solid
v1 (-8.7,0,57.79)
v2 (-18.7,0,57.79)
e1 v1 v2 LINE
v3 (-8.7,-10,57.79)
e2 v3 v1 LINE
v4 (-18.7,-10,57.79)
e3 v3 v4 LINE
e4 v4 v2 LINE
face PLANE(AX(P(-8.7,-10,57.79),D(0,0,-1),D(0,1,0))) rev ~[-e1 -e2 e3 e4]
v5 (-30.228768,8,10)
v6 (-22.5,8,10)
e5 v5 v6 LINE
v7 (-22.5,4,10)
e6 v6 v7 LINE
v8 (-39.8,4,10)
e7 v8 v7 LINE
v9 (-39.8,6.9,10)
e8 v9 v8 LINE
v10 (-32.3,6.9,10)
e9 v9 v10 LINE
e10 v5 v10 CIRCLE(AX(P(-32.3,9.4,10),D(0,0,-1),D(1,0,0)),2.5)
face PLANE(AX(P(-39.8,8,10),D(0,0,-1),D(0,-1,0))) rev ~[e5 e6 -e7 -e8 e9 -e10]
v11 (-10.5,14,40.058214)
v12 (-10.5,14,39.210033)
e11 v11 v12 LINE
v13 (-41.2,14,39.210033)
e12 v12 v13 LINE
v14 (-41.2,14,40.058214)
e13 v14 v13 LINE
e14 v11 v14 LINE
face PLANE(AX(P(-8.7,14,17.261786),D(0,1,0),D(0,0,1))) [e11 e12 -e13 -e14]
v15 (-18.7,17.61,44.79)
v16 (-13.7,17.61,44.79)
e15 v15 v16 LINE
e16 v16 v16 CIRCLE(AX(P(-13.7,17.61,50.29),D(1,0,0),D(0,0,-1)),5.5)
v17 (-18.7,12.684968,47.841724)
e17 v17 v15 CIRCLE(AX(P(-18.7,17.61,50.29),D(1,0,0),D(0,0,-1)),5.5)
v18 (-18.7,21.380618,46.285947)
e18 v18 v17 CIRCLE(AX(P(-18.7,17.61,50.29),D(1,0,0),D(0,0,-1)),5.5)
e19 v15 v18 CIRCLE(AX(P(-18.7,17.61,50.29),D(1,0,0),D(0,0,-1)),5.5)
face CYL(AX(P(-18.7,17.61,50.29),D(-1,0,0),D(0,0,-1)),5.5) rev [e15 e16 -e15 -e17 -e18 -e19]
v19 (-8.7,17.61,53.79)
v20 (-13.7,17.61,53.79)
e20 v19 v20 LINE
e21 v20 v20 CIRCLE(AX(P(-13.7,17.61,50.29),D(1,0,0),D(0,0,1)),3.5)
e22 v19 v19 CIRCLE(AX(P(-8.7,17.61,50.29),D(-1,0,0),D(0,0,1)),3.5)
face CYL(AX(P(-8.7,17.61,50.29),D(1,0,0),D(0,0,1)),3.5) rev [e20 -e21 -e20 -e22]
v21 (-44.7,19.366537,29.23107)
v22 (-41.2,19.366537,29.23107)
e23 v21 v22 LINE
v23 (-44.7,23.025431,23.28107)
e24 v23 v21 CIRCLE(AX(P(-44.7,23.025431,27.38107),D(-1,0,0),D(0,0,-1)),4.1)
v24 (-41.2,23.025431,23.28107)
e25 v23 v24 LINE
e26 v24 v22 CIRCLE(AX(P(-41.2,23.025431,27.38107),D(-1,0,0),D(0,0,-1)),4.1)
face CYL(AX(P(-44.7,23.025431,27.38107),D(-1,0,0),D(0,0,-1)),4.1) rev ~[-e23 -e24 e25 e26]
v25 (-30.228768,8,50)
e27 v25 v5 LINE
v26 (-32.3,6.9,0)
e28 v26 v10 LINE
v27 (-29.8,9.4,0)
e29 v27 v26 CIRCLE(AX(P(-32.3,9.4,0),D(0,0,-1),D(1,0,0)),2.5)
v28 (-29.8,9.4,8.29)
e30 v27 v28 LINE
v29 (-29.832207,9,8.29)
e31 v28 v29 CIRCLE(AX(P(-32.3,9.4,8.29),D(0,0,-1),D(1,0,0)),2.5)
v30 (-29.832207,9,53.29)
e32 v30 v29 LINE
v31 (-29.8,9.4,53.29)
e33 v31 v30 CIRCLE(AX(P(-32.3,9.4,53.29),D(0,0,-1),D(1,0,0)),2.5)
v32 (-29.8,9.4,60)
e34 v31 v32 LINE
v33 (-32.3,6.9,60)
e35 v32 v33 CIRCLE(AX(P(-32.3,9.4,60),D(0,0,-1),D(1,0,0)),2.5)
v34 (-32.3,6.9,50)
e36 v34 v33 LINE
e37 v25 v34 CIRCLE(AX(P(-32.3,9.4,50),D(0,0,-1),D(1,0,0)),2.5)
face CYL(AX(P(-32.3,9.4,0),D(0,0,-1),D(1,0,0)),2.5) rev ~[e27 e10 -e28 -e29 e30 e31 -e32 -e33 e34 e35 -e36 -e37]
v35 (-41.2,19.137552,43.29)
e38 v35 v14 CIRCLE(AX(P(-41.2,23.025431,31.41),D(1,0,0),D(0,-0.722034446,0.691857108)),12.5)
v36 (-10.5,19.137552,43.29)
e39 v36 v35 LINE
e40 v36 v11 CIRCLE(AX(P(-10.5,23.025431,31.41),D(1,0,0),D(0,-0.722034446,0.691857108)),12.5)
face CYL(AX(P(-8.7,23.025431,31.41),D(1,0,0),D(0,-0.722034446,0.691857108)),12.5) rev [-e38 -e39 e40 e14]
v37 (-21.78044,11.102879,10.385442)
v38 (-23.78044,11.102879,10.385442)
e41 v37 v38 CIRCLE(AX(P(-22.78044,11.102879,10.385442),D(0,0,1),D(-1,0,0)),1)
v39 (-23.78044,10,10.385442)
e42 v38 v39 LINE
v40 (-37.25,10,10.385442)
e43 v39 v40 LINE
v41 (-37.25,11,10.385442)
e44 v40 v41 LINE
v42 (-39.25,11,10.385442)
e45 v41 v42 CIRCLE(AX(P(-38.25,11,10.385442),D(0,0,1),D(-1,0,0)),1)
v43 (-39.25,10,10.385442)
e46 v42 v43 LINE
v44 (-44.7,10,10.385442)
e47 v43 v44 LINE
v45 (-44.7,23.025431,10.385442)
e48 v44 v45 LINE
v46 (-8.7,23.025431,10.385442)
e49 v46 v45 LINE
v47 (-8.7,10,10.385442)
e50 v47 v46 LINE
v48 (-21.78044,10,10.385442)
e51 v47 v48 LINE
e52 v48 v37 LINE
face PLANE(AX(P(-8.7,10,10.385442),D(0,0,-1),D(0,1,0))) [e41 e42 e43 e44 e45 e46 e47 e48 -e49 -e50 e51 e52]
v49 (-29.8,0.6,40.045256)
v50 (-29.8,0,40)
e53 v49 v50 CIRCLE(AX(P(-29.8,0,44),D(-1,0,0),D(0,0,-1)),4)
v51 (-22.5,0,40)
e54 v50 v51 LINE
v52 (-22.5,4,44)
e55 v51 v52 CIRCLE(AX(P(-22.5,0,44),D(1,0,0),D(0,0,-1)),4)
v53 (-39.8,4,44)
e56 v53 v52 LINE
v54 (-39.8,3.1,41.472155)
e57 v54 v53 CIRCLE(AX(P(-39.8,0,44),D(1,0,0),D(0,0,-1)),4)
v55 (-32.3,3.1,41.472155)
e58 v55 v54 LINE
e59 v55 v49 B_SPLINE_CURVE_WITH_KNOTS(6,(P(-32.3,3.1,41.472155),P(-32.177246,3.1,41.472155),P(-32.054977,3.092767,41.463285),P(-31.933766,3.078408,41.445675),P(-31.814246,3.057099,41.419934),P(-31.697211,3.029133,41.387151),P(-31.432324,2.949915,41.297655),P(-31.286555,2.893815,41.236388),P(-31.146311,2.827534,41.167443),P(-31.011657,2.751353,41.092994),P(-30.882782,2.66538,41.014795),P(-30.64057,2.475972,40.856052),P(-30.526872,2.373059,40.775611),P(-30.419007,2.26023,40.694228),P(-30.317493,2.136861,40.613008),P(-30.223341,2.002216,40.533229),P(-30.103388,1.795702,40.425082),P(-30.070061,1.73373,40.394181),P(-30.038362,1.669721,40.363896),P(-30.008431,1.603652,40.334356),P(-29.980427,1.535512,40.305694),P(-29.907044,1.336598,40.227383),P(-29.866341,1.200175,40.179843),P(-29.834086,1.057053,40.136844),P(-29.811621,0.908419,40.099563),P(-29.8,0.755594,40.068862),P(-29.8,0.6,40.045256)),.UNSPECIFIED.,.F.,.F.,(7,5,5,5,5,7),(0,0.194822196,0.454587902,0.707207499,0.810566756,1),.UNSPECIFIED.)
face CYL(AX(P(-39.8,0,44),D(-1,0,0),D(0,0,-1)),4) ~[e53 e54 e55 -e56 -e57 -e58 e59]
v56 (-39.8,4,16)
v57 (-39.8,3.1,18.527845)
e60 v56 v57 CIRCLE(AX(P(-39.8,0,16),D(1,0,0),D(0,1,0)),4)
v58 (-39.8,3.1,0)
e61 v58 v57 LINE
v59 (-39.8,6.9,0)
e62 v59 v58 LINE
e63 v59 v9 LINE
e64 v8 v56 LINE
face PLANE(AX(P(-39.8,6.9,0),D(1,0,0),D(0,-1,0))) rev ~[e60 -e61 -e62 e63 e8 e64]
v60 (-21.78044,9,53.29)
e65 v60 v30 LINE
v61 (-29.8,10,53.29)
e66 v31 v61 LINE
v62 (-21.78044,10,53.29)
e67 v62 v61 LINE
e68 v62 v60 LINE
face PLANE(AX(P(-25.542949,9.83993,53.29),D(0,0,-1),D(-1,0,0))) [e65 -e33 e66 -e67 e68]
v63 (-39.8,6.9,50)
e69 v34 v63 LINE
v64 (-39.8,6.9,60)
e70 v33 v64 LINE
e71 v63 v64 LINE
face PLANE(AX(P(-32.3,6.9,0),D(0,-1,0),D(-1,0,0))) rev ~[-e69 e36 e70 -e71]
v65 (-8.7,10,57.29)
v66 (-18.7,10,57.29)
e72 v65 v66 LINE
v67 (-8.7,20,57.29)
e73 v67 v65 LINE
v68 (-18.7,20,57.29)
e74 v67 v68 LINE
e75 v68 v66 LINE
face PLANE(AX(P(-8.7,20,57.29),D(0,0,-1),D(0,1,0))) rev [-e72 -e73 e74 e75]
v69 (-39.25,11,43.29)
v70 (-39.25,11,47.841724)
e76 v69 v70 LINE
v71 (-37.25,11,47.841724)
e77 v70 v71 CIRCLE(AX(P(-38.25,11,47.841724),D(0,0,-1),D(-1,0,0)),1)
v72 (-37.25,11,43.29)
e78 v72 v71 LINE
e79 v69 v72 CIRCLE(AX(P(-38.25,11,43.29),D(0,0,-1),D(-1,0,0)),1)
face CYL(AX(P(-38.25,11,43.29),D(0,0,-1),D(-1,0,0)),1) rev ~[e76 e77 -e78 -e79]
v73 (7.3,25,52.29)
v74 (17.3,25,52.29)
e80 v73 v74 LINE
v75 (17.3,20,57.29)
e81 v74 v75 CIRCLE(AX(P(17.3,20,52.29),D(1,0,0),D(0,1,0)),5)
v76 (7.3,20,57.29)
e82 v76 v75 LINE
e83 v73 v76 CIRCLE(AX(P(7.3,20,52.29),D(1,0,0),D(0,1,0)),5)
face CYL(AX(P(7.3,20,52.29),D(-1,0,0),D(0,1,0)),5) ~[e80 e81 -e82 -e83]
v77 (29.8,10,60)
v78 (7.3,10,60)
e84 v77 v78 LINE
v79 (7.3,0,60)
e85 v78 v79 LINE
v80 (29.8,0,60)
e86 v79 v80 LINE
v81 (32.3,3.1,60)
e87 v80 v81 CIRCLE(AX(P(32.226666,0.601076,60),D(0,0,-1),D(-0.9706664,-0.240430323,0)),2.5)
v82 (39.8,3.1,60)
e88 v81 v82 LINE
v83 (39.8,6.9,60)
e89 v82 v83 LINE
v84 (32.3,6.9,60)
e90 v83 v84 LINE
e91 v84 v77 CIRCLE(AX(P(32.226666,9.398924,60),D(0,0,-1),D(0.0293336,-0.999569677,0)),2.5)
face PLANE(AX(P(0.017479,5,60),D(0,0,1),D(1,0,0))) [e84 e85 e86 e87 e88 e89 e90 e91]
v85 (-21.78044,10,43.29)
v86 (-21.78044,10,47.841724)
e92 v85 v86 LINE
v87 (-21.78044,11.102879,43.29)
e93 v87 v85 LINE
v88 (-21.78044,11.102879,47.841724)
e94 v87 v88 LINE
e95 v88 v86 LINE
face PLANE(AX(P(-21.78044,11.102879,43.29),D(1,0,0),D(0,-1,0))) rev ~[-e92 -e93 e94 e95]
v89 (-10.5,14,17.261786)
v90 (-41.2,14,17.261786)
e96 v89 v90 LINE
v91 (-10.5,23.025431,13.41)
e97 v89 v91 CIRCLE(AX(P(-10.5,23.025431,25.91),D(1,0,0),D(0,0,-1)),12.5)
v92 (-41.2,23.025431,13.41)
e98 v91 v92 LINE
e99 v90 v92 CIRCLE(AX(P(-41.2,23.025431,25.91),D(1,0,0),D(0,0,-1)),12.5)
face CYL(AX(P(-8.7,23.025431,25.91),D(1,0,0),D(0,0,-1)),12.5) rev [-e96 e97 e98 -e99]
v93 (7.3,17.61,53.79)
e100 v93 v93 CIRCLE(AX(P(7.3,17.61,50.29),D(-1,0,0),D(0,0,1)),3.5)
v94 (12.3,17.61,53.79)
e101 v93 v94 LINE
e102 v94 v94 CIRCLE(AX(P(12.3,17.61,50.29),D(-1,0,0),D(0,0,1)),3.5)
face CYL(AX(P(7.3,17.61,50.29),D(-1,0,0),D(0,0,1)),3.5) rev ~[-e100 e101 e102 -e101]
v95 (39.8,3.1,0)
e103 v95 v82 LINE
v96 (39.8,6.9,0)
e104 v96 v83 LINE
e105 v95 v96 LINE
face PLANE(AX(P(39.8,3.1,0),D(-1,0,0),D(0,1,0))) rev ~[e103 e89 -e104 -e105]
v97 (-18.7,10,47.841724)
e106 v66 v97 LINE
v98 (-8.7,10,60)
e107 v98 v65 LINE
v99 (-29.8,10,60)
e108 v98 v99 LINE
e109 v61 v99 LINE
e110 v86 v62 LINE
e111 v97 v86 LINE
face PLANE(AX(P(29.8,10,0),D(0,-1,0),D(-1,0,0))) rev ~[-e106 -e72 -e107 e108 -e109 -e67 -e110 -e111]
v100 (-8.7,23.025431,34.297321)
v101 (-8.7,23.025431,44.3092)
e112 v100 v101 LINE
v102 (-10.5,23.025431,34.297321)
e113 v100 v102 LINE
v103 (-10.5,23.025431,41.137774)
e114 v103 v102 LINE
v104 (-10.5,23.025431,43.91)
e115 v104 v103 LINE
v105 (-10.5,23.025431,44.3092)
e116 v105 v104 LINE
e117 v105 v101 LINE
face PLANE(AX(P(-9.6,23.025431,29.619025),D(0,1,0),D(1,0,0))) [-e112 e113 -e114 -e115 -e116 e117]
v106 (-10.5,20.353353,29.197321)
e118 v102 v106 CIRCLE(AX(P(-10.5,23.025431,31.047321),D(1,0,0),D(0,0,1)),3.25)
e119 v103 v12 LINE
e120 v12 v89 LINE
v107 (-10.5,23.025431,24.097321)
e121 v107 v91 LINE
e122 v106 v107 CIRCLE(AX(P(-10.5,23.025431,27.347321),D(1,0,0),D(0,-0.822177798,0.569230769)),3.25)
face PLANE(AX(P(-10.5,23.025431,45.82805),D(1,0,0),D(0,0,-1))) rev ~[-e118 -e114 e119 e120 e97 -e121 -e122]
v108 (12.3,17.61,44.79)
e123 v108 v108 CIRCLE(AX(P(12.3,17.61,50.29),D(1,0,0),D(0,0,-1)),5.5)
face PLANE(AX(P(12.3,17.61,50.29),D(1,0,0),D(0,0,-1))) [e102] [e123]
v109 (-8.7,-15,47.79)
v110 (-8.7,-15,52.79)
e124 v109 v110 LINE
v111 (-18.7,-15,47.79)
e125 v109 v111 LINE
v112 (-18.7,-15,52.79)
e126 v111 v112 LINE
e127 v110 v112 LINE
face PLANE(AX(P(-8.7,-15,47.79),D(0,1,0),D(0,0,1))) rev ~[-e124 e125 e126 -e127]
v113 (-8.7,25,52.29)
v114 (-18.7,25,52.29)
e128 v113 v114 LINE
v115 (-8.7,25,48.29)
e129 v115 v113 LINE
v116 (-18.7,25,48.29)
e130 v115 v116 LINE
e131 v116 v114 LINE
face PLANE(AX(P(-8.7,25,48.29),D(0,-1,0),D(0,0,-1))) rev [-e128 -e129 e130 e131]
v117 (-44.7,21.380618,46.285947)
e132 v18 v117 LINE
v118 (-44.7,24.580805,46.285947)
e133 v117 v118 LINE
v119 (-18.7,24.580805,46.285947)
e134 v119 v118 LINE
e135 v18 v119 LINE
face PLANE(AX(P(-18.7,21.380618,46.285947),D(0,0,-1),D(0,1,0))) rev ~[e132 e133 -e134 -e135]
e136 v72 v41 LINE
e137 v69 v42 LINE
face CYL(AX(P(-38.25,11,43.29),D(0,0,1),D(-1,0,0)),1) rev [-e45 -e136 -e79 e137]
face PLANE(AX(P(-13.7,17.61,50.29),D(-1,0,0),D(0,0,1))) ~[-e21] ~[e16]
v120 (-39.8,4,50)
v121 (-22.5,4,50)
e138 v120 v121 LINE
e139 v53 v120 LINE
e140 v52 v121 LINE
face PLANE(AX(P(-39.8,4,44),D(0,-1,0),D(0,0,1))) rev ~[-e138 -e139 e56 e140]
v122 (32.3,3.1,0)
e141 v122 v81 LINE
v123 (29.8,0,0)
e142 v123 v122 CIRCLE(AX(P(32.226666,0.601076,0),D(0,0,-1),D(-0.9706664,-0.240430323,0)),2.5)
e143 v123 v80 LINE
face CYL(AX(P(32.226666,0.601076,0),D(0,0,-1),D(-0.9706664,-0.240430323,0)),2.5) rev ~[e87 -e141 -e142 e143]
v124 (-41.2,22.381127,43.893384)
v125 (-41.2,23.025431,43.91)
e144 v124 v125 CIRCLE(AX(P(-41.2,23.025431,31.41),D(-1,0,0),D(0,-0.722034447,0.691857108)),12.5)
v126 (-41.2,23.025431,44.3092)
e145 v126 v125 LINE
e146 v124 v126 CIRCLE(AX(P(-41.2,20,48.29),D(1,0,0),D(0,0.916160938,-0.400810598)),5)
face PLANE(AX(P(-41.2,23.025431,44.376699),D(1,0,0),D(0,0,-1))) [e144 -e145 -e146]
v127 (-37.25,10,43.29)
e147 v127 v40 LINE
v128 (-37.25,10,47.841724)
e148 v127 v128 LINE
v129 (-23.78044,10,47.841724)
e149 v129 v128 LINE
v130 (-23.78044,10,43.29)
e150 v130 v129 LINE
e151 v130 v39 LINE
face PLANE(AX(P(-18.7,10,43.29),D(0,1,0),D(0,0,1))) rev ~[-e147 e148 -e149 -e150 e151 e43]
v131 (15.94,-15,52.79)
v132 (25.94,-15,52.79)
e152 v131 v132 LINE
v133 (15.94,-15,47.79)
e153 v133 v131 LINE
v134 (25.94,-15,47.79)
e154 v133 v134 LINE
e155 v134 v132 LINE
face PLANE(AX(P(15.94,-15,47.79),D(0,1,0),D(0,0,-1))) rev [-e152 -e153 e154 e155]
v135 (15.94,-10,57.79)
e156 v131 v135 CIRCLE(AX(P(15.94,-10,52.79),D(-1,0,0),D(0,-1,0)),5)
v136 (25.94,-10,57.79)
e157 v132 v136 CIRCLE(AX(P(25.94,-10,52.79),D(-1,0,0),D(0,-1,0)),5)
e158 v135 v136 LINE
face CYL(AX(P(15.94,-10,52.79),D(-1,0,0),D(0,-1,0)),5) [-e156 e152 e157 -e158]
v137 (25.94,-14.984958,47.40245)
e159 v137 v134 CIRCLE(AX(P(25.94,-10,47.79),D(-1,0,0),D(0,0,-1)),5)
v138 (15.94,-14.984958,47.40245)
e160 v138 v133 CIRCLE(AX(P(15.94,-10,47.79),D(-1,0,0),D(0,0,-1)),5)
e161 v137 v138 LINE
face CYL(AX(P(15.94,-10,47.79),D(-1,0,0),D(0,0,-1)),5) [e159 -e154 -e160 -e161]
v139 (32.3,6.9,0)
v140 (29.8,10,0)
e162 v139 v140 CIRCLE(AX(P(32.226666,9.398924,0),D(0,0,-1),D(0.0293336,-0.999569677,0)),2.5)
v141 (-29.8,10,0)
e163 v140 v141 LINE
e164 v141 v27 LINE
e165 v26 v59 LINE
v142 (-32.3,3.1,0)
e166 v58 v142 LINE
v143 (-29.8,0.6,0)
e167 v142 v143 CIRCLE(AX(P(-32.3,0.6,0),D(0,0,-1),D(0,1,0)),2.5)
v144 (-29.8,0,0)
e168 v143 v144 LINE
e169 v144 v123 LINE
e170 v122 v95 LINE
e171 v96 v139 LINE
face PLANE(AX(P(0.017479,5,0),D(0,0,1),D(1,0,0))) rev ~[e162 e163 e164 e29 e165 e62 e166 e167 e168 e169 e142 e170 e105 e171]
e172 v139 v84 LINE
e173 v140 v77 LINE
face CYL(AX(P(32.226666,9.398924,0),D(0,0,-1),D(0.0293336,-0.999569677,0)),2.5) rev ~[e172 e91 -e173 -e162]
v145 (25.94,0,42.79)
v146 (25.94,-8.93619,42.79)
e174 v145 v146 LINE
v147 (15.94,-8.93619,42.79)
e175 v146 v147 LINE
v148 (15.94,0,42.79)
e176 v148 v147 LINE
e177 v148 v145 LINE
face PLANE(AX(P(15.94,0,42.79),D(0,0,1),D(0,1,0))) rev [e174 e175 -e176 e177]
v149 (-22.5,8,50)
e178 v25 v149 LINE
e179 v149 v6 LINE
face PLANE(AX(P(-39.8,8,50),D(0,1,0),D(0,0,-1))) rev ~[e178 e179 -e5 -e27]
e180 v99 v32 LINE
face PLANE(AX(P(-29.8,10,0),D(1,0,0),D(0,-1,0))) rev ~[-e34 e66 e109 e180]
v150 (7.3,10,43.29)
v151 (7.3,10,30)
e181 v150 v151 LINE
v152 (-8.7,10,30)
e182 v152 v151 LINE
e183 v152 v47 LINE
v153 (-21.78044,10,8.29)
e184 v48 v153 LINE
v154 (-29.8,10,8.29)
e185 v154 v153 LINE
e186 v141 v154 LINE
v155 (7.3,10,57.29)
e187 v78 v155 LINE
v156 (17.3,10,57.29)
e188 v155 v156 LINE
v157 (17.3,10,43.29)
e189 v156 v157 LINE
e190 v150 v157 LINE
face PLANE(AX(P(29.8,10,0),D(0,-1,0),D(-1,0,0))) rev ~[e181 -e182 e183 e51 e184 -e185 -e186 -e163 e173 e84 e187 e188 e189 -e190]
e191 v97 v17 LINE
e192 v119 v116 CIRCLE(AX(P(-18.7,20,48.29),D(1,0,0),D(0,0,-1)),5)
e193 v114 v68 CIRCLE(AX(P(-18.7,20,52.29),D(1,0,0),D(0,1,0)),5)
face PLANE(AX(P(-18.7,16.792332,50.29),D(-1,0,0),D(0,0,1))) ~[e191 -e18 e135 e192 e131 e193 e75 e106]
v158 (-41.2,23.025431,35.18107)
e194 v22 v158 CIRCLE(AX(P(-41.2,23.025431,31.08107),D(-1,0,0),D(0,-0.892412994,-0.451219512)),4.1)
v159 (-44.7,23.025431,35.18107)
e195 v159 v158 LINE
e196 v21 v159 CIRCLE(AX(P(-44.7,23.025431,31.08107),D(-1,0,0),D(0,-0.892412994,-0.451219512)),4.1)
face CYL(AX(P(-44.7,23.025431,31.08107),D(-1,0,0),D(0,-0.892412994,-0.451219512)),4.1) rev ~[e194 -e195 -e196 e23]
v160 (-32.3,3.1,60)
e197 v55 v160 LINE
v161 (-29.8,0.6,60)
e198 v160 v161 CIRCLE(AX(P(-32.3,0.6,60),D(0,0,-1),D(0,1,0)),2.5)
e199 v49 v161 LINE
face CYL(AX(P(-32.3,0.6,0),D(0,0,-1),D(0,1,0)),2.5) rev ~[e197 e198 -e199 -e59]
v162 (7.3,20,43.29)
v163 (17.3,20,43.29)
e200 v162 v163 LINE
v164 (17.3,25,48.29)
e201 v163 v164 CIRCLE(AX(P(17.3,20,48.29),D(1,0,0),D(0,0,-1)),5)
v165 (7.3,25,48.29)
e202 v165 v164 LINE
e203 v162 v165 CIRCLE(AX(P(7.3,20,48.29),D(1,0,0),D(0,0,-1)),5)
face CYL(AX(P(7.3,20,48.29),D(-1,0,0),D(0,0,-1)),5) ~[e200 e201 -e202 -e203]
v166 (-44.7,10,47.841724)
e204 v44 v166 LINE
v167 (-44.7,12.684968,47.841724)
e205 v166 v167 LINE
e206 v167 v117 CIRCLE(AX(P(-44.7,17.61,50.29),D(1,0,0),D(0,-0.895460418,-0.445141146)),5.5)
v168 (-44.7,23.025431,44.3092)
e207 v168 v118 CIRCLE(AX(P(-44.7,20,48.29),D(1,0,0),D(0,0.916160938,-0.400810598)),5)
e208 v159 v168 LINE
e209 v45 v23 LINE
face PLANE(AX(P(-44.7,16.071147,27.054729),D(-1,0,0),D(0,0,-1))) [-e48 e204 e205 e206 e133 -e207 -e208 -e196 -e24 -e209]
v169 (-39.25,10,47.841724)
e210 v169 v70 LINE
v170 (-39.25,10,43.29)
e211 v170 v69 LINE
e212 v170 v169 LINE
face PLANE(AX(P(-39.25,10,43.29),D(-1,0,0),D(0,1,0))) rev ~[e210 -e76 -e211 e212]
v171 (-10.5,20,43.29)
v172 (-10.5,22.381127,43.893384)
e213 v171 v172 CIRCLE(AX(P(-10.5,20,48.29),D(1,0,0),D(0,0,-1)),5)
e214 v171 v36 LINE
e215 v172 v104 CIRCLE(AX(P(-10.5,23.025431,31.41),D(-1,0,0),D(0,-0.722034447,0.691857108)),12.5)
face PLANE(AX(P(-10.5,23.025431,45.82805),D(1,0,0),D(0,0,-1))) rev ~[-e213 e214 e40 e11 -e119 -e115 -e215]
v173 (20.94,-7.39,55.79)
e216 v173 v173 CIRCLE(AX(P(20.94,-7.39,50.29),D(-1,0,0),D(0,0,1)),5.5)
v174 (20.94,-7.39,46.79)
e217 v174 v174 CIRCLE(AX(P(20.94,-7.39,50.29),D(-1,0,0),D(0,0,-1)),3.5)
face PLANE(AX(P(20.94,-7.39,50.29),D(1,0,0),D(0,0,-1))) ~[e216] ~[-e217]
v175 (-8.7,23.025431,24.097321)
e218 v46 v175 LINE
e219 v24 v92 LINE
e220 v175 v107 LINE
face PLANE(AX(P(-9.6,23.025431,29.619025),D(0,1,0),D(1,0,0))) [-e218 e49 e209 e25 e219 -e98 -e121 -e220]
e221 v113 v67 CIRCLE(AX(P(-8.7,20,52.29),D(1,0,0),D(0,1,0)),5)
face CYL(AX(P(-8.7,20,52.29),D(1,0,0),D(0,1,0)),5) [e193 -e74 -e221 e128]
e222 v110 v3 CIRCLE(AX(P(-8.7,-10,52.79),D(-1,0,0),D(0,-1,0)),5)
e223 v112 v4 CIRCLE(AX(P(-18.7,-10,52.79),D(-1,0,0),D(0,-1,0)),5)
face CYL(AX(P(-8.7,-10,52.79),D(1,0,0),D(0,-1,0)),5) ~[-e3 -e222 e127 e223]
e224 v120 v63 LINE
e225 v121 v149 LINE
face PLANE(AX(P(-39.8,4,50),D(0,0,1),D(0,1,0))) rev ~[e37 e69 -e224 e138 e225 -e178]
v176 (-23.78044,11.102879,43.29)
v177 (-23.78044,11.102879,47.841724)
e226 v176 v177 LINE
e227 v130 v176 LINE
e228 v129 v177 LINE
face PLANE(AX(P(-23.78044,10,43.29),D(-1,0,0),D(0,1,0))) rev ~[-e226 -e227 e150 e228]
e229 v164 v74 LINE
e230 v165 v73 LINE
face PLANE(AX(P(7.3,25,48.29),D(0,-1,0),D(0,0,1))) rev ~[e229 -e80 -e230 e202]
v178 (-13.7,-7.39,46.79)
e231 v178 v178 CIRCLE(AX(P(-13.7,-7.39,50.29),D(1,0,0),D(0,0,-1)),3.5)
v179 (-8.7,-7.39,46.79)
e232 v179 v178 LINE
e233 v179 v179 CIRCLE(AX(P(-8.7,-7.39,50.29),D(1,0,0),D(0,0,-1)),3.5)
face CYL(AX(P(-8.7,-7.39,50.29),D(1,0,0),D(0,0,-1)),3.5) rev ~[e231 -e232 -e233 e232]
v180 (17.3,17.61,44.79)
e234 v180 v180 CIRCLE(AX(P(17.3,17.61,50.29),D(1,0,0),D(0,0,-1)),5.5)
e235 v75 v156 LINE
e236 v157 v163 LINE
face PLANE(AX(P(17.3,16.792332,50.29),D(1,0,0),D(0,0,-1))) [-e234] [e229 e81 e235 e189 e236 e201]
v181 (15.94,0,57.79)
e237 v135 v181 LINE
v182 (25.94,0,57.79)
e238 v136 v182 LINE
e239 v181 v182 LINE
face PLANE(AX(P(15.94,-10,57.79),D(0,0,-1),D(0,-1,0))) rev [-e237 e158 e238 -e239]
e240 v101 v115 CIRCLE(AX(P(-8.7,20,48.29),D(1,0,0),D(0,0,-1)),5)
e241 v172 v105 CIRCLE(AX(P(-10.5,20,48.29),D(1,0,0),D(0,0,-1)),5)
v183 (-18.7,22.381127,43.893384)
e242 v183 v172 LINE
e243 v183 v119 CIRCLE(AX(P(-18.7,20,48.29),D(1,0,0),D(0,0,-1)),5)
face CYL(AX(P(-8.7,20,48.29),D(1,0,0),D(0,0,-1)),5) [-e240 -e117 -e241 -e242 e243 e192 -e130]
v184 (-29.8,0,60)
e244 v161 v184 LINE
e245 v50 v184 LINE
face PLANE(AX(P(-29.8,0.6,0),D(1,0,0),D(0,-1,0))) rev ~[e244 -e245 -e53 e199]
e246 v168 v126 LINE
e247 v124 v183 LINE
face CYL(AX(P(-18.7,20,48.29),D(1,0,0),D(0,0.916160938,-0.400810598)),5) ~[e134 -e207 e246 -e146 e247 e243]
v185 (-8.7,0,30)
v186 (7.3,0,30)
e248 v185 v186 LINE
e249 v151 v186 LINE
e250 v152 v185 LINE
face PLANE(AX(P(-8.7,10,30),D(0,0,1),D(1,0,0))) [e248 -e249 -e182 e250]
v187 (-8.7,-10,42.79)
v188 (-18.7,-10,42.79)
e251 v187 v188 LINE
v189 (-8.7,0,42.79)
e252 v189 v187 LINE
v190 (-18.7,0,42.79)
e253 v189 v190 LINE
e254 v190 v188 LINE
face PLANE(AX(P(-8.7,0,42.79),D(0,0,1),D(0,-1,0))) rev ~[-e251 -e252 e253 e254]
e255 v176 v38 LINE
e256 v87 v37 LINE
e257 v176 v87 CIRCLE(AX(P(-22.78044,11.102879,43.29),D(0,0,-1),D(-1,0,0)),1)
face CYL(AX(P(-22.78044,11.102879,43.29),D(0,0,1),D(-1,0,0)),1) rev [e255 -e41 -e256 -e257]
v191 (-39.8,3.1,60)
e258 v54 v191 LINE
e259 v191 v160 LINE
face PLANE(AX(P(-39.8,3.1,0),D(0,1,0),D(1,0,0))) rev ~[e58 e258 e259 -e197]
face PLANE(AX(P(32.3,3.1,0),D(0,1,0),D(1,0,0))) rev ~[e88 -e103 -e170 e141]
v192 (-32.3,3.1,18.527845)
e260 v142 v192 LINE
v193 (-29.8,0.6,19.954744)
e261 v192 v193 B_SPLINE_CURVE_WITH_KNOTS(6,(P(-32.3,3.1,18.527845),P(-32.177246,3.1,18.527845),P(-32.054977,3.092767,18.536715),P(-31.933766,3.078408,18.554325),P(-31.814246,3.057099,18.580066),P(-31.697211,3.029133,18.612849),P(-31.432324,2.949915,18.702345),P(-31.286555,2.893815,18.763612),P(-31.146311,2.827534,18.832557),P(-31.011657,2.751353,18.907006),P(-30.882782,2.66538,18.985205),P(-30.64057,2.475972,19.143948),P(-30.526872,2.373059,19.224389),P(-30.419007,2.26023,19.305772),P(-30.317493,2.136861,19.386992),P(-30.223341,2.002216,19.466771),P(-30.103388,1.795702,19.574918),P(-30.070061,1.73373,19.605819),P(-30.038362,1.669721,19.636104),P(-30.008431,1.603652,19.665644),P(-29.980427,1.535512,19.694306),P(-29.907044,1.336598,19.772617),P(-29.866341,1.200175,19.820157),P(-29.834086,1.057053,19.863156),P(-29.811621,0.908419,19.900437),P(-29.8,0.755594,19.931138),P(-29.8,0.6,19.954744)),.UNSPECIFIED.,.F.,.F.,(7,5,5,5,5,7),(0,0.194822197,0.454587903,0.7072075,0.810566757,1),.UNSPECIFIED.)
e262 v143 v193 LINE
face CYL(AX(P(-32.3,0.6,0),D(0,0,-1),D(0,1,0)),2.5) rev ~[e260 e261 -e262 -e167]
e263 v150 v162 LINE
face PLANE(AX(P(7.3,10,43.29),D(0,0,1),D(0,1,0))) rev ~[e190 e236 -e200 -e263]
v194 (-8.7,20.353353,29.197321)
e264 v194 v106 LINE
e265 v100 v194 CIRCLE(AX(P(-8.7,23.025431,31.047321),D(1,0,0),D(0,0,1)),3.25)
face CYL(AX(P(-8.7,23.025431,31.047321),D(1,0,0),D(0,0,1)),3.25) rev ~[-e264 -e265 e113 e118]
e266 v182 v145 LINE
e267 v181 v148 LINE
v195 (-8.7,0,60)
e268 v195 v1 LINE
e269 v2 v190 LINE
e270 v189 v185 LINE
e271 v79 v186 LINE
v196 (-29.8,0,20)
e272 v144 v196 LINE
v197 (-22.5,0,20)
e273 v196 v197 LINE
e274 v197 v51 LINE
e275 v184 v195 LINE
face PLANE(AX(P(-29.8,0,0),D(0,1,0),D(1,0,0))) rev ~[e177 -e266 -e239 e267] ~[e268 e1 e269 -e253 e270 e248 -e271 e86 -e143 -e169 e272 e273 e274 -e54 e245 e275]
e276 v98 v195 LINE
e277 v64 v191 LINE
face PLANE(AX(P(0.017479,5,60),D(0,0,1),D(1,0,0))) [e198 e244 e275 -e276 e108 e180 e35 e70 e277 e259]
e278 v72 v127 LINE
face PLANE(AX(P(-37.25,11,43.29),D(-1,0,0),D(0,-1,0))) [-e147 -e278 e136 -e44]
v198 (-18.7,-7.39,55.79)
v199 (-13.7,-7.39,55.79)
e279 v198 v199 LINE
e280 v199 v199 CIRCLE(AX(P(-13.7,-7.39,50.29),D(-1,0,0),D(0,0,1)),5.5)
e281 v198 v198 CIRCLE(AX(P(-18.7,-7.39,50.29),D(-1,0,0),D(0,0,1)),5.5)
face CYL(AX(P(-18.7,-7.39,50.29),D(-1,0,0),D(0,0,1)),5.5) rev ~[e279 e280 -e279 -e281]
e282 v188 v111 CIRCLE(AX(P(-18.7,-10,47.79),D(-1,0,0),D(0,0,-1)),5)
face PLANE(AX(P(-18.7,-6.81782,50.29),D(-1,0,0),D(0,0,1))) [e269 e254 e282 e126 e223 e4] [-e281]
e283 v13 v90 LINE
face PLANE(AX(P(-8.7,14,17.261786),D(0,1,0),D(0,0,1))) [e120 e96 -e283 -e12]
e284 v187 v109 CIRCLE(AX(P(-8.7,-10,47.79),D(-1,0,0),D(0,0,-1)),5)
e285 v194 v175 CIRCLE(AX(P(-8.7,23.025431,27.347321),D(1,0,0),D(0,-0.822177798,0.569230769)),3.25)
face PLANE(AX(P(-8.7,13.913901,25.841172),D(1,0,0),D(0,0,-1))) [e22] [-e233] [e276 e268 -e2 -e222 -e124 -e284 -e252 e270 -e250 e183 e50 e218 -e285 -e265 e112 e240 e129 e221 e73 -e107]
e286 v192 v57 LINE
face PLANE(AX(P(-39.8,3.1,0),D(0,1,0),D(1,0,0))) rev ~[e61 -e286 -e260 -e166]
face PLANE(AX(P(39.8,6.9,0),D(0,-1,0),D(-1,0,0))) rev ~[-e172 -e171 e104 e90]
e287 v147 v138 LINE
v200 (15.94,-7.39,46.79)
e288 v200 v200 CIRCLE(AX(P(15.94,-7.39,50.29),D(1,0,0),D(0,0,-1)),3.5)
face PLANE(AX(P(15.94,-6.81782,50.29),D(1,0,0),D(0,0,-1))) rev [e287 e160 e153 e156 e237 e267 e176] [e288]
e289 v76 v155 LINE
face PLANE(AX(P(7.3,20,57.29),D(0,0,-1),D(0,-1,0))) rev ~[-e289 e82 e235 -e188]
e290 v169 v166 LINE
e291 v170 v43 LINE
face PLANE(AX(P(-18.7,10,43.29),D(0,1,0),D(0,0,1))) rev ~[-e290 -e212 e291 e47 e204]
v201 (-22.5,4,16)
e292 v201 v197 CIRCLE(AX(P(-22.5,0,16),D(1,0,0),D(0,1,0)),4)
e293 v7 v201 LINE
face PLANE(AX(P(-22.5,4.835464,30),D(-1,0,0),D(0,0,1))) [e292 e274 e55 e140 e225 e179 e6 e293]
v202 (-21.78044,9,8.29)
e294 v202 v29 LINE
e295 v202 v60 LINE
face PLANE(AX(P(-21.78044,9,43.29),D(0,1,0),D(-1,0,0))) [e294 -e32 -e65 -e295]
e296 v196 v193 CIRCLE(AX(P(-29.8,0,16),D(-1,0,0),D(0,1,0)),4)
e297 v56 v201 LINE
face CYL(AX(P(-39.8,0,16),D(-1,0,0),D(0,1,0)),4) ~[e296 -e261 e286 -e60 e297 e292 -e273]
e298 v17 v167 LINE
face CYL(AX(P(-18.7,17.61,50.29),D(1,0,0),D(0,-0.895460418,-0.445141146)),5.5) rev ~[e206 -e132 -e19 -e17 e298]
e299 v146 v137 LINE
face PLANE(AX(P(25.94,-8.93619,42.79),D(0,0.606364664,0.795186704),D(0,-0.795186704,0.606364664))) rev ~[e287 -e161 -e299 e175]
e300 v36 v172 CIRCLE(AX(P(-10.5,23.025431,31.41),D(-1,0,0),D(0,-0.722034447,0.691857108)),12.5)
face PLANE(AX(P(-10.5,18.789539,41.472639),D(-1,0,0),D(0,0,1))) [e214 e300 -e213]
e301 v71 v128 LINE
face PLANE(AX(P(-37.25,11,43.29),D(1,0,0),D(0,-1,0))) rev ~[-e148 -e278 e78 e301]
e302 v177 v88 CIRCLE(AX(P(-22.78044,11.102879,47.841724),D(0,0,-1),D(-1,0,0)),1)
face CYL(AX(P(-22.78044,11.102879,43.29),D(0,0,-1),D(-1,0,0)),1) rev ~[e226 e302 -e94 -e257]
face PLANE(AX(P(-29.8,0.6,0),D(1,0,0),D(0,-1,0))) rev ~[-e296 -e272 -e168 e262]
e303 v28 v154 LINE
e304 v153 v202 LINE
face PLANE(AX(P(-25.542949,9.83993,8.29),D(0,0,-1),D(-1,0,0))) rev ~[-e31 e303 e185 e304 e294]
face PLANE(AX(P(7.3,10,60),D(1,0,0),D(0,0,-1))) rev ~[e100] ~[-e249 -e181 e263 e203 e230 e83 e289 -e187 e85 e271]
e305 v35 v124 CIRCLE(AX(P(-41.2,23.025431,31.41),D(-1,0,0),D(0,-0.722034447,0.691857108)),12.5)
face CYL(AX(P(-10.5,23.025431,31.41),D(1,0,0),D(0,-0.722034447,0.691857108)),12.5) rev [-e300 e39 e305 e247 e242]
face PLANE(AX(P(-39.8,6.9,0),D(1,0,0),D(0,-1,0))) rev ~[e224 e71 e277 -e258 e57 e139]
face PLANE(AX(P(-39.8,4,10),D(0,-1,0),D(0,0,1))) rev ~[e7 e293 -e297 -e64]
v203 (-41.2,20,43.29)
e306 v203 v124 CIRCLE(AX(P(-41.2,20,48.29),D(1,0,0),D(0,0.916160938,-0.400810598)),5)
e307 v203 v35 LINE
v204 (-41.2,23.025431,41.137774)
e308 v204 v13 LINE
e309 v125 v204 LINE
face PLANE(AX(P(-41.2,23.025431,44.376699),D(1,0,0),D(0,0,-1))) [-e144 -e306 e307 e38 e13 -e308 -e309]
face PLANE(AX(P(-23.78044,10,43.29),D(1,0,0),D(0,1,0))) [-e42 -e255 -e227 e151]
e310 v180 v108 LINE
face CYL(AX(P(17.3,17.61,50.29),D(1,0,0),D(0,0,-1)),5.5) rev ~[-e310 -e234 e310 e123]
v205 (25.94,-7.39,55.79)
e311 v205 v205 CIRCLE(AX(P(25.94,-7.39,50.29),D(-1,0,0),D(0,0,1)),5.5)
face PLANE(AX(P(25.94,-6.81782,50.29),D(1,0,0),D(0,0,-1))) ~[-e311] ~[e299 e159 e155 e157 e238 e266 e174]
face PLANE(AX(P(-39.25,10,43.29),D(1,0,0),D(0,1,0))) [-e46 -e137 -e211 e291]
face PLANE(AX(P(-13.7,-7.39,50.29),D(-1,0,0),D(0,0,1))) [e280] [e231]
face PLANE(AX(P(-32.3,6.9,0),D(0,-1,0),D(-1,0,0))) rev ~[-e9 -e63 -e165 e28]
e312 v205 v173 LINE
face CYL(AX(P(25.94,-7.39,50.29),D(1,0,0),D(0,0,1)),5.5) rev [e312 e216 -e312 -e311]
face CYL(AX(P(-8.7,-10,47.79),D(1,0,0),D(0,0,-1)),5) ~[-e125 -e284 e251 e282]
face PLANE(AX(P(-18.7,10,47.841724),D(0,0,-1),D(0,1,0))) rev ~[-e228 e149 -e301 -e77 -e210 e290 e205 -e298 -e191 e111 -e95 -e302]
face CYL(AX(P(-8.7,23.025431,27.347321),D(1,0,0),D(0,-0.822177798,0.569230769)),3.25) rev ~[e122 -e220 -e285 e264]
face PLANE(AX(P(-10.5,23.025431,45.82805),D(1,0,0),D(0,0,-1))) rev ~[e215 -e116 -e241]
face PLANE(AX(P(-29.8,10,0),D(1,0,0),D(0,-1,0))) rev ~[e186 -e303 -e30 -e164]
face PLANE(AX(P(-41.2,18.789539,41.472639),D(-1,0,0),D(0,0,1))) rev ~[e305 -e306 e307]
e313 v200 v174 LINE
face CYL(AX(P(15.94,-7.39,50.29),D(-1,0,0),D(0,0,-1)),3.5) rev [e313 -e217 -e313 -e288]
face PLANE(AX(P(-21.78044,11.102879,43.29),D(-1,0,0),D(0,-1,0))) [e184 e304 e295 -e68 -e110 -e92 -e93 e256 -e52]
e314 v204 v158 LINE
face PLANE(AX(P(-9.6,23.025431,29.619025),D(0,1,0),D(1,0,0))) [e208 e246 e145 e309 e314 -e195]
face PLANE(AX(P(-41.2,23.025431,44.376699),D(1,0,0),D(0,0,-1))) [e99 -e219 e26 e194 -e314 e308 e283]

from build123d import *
from build123d.topology import SkipClean

# Parameters (mm, degrees)
EXTRUDE_1_DEPTH          = 60
CUT_EXTRUDE_1_DEPTH      = 17.3
SKETCH1_W                = 16
SKETCH1_H                = 30
CUT_EXTRUDE1_DEPTH       = 10
SKETCH2_R                = 3.5
BOSS_EXTRUDE1_DEPTH      = 10
SKETCH4_R                = 5.5
CUT_EXTRUDE4_DEPTH       = 5
SKETCH5_R                = 3.5
BOSS_EXTRUDE2_DEPTH      = 10
SKETCH6_R                = 5.5
CUT_EXTRUDE5_DEPTH       = 5
BOSS_EXTRUDE4_DEPTH      = 36
SKETCH8_W                = 1.8
SKETCH8_H                = 32.418049597
SKETCH8_W_2              = 3.5
SKETCH8_H_2              = 30.966699179
BOSS_EXTRUDE5_DEPTH      = 10
CUT_EXTRUDE6_DEPTH       = 10
CUT_EXTRUDE7_DEPTH       = 10
CUT_EXTRUDE9_DEPTH       = 10
CUT_EXTRUDE10_DEPTH      = 10
CUT_EXTRUDE10_DEPTH_BACK = 35
CUT_EXTRUDE8_DEPTH       = 24
CUT_EXTRUDE8_DEPTH_BACK  = 68.060525711
BOSS_EXTRUDE8_REACH      = 89.449
CUT_EXTRUDE12_DEPTH      = 30.7
CUT_EXTRUDE13_DEPTH      = 4.551723699
CUT_EXTRUDE14_DEPTH      = 14


with BuildPart() as part:
    # 스케치1 → 보스-돌출1 (new body)
    with BuildSketch(Plane.XY):
        with BuildLine():
            Line((29.8, 10), (-29.8, 10))
            Line((-29.8, 10), (-29.8, 9.4))
            ThreePointArc((-29.8, 9.4), (-30.532233047, 7.632233047), (-32.3, 6.9))
            Line((-32.3, 6.9), (-39.8, 6.9))
            Line((-39.8, 6.9), (-39.8, 3.1))
            Line((-39.8, 3.1), (-32.3, 3.1))
            ThreePointArc((-32.3, 3.1), (-30.532233047, 2.367766953), (-29.8, 0.6))
            Line((-29.8, 0.6), (-29.8, 0))
            Line((-29.8, 0), (29.8, 0))
            ThreePointArc((29.8, 0), (30.280633401, 2.170456935), (32.3, 3.1))
            Line((32.3, 3.1), (39.8, 3.1))
            Line((39.8, 3.1), (39.8, 6.9))
            Line((39.8, 6.9), (32.3, 6.9))
            ThreePointArc((32.3, 6.9), (30.280633401, 7.829543065), (29.8, 10))
        make_face()
    extrude(amount=EXTRUDE_1_DEPTH)

    # 스케치2 → 컷-돌출1 (cut)
    with BuildSketch(Plane.ZY.offset(39.8)):
        with BuildLine():
            Line((44, 4), (50, 4))
            Line((50, 4), (50, 8))
            Line((50, 8), (10, 8))
            Line((10, 8), (10, 4))
            Line((10, 4), (16, 4))
            ThreePointArc((16, 4), (18.828427125, 2.828427125), (20, 0))
            Line((20, 0), (40, 0))
            ThreePointArc((40, 0), (41.171572875, 2.828427125), (44, 4))
        make_face()
    extrude(amount=-CUT_EXTRUDE_1_DEPTH, mode=Mode.SUBTRACT)

    # Sketch1 → Cut-Extrude1 (cut)
    with BuildSketch(Plane(origin=(0, 10, 0), x_dir=(1, 0, 0), z_dir=(0, 1, 0))):
        with Locations((-0.7, -45)):
            Rectangle(SKETCH1_W, SKETCH1_H)
    extrude(amount=-CUT_EXTRUDE1_DEPTH, mode=Mode.SUBTRACT)

    # Sketch2 → Boss-Extrude1 (add)
    with BuildSketch(Plane.ZY.offset(-7.3)):
        with BuildLine():
            Line((57.29, 10), (43.29, 10))
            Line((43.29, 10), (43.29, 20))
            ThreePointArc((43.29, 20), (44.754466094, 23.535533906), (48.29, 25))
            Line((48.29, 25), (52.29, 25))
            ThreePointArc((52.29, 25), (55.825533906, 23.535533906), (57.29, 20))
            Line((57.29, 20), (57.29, 10))
        make_face()
        with Locations((50.29, 17.61)):
            Circle(SKETCH2_R, mode=Mode.SUBTRACT)
    boss_extrude1 = extrude(amount=-BOSS_EXTRUDE1_DEPTH)

    # Sketch4 → Cut-Extrude4 (cut)
    with BuildSketch(Plane(origin=(17.3, 0, 0), x_dir=(0, 0, -1), z_dir=(1, 0, 0))):
        with Locations((-50.29, 17.61)):
            Circle(SKETCH4_R)
    cut_extrude4 = extrude(amount=-CUT_EXTRUDE4_DEPTH, mode=Mode.SUBTRACT)

    # Mirror1: Boss-Extrude1, Cut-Extrude4 across plane
    add(boss_extrude1.mirror(Plane.ZY.offset(0.7)))
    add(cut_extrude4.mirror(Plane.ZY.offset(0.7)), mode=Mode.SUBTRACT)

    # Sketch5 → Boss-Extrude2 (add)
    with BuildSketch(Plane(origin=(-8.7, 0, 0), x_dir=(0, 0, -1), z_dir=(1, 0, 0))):
        with BuildLine():
            Line((-57.79, 0), (-42.79, 0))
            Line((-42.79, 0), (-42.79, -10))
            ThreePointArc((-42.79, -10), (-44.254466094, -13.535533906), (-47.79, -15))
            Line((-47.79, -15), (-52.79, -15))
            ThreePointArc((-52.79, -15), (-56.325533906, -13.535533906), (-57.79, -10))
            Line((-57.79, -10), (-57.79, 0))
        make_face()
        with Locations((-50.29, -7.39000045)):
            Circle(SKETCH5_R, mode=Mode.SUBTRACT)
    boss_extrude2 = extrude(amount=-BOSS_EXTRUDE2_DEPTH)

    # Sketch6 → Cut-Extrude5 (cut)
    with BuildSketch(Plane.ZY.offset(18.7)):
        with Locations((50.29, -7.39000045)):
            Circle(SKETCH6_R)
    cut_extrude5 = extrude(amount=-CUT_EXTRUDE5_DEPTH, mode=Mode.SUBTRACT)

    # Mirror2: Boss-Extrude2, Cut-Extrude5 across plane
    add(boss_extrude2.mirror(Plane(origin=(3.62, 0, 0), x_dir=(0, 0, 1), z_dir=(1, 0, 0))))
    add(cut_extrude5.mirror(Plane(origin=(3.62, 0, 0), x_dir=(0, 0, 1), z_dir=(1, 0, 0))), mode=Mode.SUBTRACT)

    # Sketch7 → Boss-Extrude4 (add)
    with BuildSketch(Plane(origin=(-8.7, 0, 0), x_dir=(0, 0, -1), z_dir=(1, 0, 0))):
        with BuildLine():
            Line((-17.261786151, 14), (-40.058213849, 14))
            ThreePointArc((-40.058213849, 14), (-41.99066638, 16.369643708), (-43.29, 19.137551985))
            Line((-43.29, 19.137551985), (-43.29, 10))
            Line((-43.29, 10), (-30, 10))
            Line((-30, 10), (-10.385441698, 10))
            Line((-10.385441698, 10), (-10.385441698, 23.025430584))
            Line((-10.385441698, 23.025430584), (-13.41, 23.025430584))
            ThreePointArc((-13.41, 23.025430584), (-14.413203205, 18.118938615), (-17.261786151, 14))
        make_face()
    extrude(amount=-BOSS_EXTRUDE4_DEPTH)

    # Sketch8 → Boss-Extrude5 (add)
    with BuildSketch(Plane(origin=(0, 23.025430584, 0), x_dir=(1, 0, 0), z_dir=(0, 1, 0))):
        with Locations((-9.6, -29.619024798)):
            Rectangle(SKETCH8_W, SKETCH8_H)
        with Locations((-42.95, -28.89334959)):
            Rectangle(SKETCH8_W_2, SKETCH8_H_2)
    extrude(amount=-BOSS_EXTRUDE5_DEPTH)

    # Sketch9 → Cut-Extrude6 (cut)
    with BuildSketch(Plane(origin=(-8.7, 0, 0), x_dir=(0, 0, -1), z_dir=(1, 0, 0))):
        with BuildLine():
            Line((-27.797320777, 23.025430584), (-24.097320777, 23.025430584))
            ThreePointArc((-24.097320777, 23.025430584), (-25.839010464, 25.904232418), (-29.197320777, 25.697508427))
            ThreePointArc((-29.197320777, 25.697508427), (-28.168518943, 24.533740897), (-27.797320777, 23.025430584))
        make_face()
        with BuildLine():
            ThreePointArc((-29.197320777, 20.353352741), (-25.839010464, 20.14662875), (-24.097320777, 23.025430584))
            Line((-24.097320777, 23.025430584), (-27.797320777, 23.025430584))
            ThreePointArc((-27.797320777, 23.025430584), (-28.168518943, 21.517120271), (-29.197320777, 20.353352741))
        make_face()
        with BuildLine():
            ThreePointArc((-27.797320777, 23.025430584), (-28.168518943, 24.533740897), (-29.197320777, 25.697508427))
            ThreePointArc((-29.197320777, 25.697508427), (-30.226122611, 24.533740897), (-30.597320777, 23.025430584))
            Line((-30.597320777, 23.025430584), (-27.797320777, 23.025430584))
        make_face()
        with BuildLine():
            ThreePointArc((-30.597320777, 23.025430584), (-30.226122611, 24.533740897), (-29.197320777, 25.697508427))
            ThreePointArc((-29.197320777, 25.697508427), (-32.55563109, 25.904232418), (-34.297320777, 23.025430584))
            Line((-34.297320777, 23.025430584), (-30.597320777, 23.025430584))
        make_face()
        with BuildLine():
            ThreePointArc((-34.297320777, 23.025430584), (-32.55563109, 20.14662875), (-29.197320777, 20.353352741))
            ThreePointArc((-29.197320777, 20.353352741), (-30.226122611, 21.517120271), (-30.597320777, 23.025430584))
            Line((-30.597320777, 23.025430584), (-34.297320777, 23.025430584))
        make_face()
        with BuildLine():
            ThreePointArc((-30.597320777, 23.025430584), (-30.226122611, 21.517120271), (-29.197320777, 20.353352741))
            ThreePointArc((-29.197320777, 20.353352741), (-28.168518943, 21.517120271), (-27.797320777, 23.025430584))
            Line((-27.797320777, 23.025430584), (-30.597320777, 23.025430584))
        make_face()
    extrude(amount=-CUT_EXTRUDE6_DEPTH, mode=Mode.SUBTRACT)

    # Sketch10 → Cut-Extrude7 (cut)
    with BuildSketch(Plane.ZY.offset(44.7)):
        with BuildLine():
            Line((26.981070438, 23.025430584), (31.481070438, 23.025430584))
            ThreePointArc((31.481070438, 23.025430584), (30.873562385, 25.173103744), (29.231070438, 26.684323859))
            ThreePointArc((29.231070438, 26.684323859), (27.588578491, 25.173103744), (26.981070438, 23.025430584))
        make_face()
        with BuildLine():
            Line((35.181070438, 23.025430584), (31.481070438, 23.025430584))
            ThreePointArc((31.481070438, 23.025430584), (30.873562385, 20.877757425), (29.231070438, 19.366537309))
            ThreePointArc((29.231070438, 19.366537309), (33.228743598, 19.532938637), (35.181070438, 23.025430584))
        make_face()
        with BuildLine():
            ThreePointArc((29.231070438, 26.684323859), (30.873562385, 25.173103744), (31.481070438, 23.025430584))
            Line((31.481070438, 23.025430584), (35.181070438, 23.025430584))
            ThreePointArc((35.181070438, 23.025430584), (33.228743598, 26.517922531), (29.231070438, 26.684323859))
        make_face()
        with BuildLine():
            ThreePointArc((29.231070438, 19.366537309), (30.873562385, 20.877757425), (31.481070438, 23.025430584))
            Line((31.481070438, 23.025430584), (26.981070438, 23.025430584))
            ThreePointArc((26.981070438, 23.025430584), (27.588578491, 20.877757425), (29.231070438, 19.366537309))
        make_face()
        with BuildLine():
            ThreePointArc((26.981070438, 23.025430584), (27.588578491, 25.173103744), (29.231070438, 26.684323859))
            ThreePointArc((29.231070438, 26.684323859), (25.233397279, 26.517922531), (23.281070438, 23.025430584))
            Line((23.281070438, 23.025430584), (26.981070438, 23.025430584))
        make_face()
        with BuildLine():
            ThreePointArc((23.281070438, 23.025430584), (25.233397279, 19.532938637), (29.231070438, 19.366537309))
            ThreePointArc((29.231070438, 19.366537309), (27.588578491, 20.877757425), (26.981070438, 23.025430584))
            Line((26.981070438, 23.025430584), (23.281070438, 23.025430584))
        make_face()
    extrude(amount=-CUT_EXTRUDE7_DEPTH, mode=Mode.SUBTRACT)

    # Sketch12 → Cut-Extrude9 (cut)
    with BuildSketch(Plane(origin=(25.94, 0, 0), x_dir=(0, 0, -1), z_dir=(1, 0, 0))):
        Polygon((-42.79, -8.93619037), (-47.402449947, -14.984957869), (-43.167493301, -15.543555396), (-40.889176965, -10), align=None)
    extrude(amount=-CUT_EXTRUDE9_DEPTH, mode=Mode.SUBTRACT)

    # Sketch13 → Cut-Extrude10 (cut, two sides)
    with BuildSketch(Plane.XY.offset(43.29)) as cut_extrude10_sk:
        with BuildLine():
            Line((-29.8, 10), (-23.780440028, 10))
            Line((-23.780440028, 10), (-23.780440028, 11.102878987))
            ThreePointArc((-23.780440028, 11.102878987), (-22.780440028, 12.102878987), (-21.780440028, 11.102878987))
            Line((-21.780440028, 11.102878987), (-21.780440028, 9))
            Line((-21.780440028, 9), (-30.475963693, 9))
            Line((-30.475963693, 9), (-29.8, 10))
        make_face()
    extrude(amount=CUT_EXTRUDE10_DEPTH, mode=Mode.SUBTRACT)
    extrude(cut_extrude10_sk.sketch, amount=-CUT_EXTRUDE10_DEPTH_BACK, mode=Mode.SUBTRACT)

    # Sketch11 → Cut-Extrude8 (cut, two sides)
    with BuildSketch(Plane.XY.offset(43.29)) as cut_extrude8_sk:
        with BuildLine():
            Line((-39.25, 10), (-39.25, 11))
            ThreePointArc((-39.25, 11), (-38.25, 12), (-37.25, 11))
            Line((-37.25, 11), (-37.25, 10))
            Line((-37.25, 10), (-39.25, 10))
        make_face()
    extrude(amount=CUT_EXTRUDE8_DEPTH, mode=Mode.SUBTRACT)
    extrude(cut_extrude8_sk.sketch, amount=-CUT_EXTRUDE8_DEPTH_BACK, mode=Mode.SUBTRACT)

    # Boss-Extrude8: up to this face of the body (flat: up to its plane)
    boss_extrude8_end = Plane(part.part.faces().sort_by_distance((-44.7, 16.071146892, 27.054729008))[0])
    # Sketch17 → Boss-Extrude8 (add, up to the picked face)
    with BuildSketch(Plane.ZY.offset(18.7), mode=Mode.PRIVATE) as boss_extrude8_sk1:
        with BuildLine():
            Line((43.29, 10), (47.841723699, 10))
            Line((47.841723699, 10), (47.841723699, 12.6849677))
            ThreePointArc((47.841723699, 12.6849677), (44.875969931, 16.641352279), (46.285947009, 21.380617939))
            Line((46.285947009, 21.380617939), (46.285947009, 24.58080469))
            ThreePointArc((46.285947009, 24.58080469), (44.10548898, 22.736762233), (43.29, 20))
            Line((43.29, 20), (43.29, 10))
        make_face()
    boss_extrude8_tool1 = split(extrude(boss_extrude8_sk1.sketch, amount=BOSS_EXTRUDE8_REACH, mode=Mode.PRIVATE), bisect_by=boss_extrude8_end, keep=Keep.BOTH, mode=Mode.PRIVATE)
    add(boss_extrude8_tool1.solids().sort_by(Axis((-18.7, 15.819122, 44.969973), (-1, 0, 0)))[0])

    # Sketch16 → Cut-Extrude12 (cut)
    with SkipClean():  # the faces are left unmerged after this step: merging them gives an invalid solid
        with BuildSketch(Plane.ZY.offset(10.5)):
            with BuildLine():
                Line((39.210033139, 14), (40.058213849, 14))
                ThreePointArc((40.058213849, 14), (42.906796795, 18.118938615), (43.91, 23.025430584))
                Line((43.91, 23.025430584), (41.137773768, 23.025430584))
                Line((41.137773768, 23.025430584), (39.210033139, 14))
            make_face()
        extrude(amount=CUT_EXTRUDE12_DEPTH, mode=Mode.SUBTRACT)

    # Sketch18 → Cut-Extrude13 (cut)
    with SkipClean():  # the faces are left unmerged after this step: merging them gives an invalid solid
        with BuildSketch(Plane(origin=(0, 0, 43.29), x_dir=(-1, 0, 0), z_dir=(0, 0, -1))):
            with BuildLine():
                Line((21.780440028, 11.102878987), (21.780440028, 10))
                Line((21.780440028, 10), (23.780440028, 10))
                Line((23.780440028, 10), (23.780440028, 11.102878987))
                ThreePointArc((23.780440028, 11.102878987), (22.780440028, 12.102878987), (21.780440028, 11.102878987))
            make_face()
        extrude(amount=-CUT_EXTRUDE13_DEPTH, mode=Mode.SUBTRACT)

    # Sketch19 → Cut-Extrude14 (cut)
    with SkipClean():  # the faces are left unmerged after this step: merging them gives an invalid solid
        with BuildSketch(Plane(origin=(0, 0, 43.29), x_dir=(-1, 0, 0), z_dir=(0, 0, -1))):
            with BuildLine():
                Line((37.25, 11), (37.25, 10))
                Line((37.25, 10), (39.25, 10))
                Line((39.25, 10), (39.25, 11))
                ThreePointArc((39.25, 11), (38.25, 12), (37.25, 11))
            make_face()
        extrude(amount=-CUT_EXTRUDE14_DEPTH, mode=Mode.SUBTRACT)


solid = part.part
